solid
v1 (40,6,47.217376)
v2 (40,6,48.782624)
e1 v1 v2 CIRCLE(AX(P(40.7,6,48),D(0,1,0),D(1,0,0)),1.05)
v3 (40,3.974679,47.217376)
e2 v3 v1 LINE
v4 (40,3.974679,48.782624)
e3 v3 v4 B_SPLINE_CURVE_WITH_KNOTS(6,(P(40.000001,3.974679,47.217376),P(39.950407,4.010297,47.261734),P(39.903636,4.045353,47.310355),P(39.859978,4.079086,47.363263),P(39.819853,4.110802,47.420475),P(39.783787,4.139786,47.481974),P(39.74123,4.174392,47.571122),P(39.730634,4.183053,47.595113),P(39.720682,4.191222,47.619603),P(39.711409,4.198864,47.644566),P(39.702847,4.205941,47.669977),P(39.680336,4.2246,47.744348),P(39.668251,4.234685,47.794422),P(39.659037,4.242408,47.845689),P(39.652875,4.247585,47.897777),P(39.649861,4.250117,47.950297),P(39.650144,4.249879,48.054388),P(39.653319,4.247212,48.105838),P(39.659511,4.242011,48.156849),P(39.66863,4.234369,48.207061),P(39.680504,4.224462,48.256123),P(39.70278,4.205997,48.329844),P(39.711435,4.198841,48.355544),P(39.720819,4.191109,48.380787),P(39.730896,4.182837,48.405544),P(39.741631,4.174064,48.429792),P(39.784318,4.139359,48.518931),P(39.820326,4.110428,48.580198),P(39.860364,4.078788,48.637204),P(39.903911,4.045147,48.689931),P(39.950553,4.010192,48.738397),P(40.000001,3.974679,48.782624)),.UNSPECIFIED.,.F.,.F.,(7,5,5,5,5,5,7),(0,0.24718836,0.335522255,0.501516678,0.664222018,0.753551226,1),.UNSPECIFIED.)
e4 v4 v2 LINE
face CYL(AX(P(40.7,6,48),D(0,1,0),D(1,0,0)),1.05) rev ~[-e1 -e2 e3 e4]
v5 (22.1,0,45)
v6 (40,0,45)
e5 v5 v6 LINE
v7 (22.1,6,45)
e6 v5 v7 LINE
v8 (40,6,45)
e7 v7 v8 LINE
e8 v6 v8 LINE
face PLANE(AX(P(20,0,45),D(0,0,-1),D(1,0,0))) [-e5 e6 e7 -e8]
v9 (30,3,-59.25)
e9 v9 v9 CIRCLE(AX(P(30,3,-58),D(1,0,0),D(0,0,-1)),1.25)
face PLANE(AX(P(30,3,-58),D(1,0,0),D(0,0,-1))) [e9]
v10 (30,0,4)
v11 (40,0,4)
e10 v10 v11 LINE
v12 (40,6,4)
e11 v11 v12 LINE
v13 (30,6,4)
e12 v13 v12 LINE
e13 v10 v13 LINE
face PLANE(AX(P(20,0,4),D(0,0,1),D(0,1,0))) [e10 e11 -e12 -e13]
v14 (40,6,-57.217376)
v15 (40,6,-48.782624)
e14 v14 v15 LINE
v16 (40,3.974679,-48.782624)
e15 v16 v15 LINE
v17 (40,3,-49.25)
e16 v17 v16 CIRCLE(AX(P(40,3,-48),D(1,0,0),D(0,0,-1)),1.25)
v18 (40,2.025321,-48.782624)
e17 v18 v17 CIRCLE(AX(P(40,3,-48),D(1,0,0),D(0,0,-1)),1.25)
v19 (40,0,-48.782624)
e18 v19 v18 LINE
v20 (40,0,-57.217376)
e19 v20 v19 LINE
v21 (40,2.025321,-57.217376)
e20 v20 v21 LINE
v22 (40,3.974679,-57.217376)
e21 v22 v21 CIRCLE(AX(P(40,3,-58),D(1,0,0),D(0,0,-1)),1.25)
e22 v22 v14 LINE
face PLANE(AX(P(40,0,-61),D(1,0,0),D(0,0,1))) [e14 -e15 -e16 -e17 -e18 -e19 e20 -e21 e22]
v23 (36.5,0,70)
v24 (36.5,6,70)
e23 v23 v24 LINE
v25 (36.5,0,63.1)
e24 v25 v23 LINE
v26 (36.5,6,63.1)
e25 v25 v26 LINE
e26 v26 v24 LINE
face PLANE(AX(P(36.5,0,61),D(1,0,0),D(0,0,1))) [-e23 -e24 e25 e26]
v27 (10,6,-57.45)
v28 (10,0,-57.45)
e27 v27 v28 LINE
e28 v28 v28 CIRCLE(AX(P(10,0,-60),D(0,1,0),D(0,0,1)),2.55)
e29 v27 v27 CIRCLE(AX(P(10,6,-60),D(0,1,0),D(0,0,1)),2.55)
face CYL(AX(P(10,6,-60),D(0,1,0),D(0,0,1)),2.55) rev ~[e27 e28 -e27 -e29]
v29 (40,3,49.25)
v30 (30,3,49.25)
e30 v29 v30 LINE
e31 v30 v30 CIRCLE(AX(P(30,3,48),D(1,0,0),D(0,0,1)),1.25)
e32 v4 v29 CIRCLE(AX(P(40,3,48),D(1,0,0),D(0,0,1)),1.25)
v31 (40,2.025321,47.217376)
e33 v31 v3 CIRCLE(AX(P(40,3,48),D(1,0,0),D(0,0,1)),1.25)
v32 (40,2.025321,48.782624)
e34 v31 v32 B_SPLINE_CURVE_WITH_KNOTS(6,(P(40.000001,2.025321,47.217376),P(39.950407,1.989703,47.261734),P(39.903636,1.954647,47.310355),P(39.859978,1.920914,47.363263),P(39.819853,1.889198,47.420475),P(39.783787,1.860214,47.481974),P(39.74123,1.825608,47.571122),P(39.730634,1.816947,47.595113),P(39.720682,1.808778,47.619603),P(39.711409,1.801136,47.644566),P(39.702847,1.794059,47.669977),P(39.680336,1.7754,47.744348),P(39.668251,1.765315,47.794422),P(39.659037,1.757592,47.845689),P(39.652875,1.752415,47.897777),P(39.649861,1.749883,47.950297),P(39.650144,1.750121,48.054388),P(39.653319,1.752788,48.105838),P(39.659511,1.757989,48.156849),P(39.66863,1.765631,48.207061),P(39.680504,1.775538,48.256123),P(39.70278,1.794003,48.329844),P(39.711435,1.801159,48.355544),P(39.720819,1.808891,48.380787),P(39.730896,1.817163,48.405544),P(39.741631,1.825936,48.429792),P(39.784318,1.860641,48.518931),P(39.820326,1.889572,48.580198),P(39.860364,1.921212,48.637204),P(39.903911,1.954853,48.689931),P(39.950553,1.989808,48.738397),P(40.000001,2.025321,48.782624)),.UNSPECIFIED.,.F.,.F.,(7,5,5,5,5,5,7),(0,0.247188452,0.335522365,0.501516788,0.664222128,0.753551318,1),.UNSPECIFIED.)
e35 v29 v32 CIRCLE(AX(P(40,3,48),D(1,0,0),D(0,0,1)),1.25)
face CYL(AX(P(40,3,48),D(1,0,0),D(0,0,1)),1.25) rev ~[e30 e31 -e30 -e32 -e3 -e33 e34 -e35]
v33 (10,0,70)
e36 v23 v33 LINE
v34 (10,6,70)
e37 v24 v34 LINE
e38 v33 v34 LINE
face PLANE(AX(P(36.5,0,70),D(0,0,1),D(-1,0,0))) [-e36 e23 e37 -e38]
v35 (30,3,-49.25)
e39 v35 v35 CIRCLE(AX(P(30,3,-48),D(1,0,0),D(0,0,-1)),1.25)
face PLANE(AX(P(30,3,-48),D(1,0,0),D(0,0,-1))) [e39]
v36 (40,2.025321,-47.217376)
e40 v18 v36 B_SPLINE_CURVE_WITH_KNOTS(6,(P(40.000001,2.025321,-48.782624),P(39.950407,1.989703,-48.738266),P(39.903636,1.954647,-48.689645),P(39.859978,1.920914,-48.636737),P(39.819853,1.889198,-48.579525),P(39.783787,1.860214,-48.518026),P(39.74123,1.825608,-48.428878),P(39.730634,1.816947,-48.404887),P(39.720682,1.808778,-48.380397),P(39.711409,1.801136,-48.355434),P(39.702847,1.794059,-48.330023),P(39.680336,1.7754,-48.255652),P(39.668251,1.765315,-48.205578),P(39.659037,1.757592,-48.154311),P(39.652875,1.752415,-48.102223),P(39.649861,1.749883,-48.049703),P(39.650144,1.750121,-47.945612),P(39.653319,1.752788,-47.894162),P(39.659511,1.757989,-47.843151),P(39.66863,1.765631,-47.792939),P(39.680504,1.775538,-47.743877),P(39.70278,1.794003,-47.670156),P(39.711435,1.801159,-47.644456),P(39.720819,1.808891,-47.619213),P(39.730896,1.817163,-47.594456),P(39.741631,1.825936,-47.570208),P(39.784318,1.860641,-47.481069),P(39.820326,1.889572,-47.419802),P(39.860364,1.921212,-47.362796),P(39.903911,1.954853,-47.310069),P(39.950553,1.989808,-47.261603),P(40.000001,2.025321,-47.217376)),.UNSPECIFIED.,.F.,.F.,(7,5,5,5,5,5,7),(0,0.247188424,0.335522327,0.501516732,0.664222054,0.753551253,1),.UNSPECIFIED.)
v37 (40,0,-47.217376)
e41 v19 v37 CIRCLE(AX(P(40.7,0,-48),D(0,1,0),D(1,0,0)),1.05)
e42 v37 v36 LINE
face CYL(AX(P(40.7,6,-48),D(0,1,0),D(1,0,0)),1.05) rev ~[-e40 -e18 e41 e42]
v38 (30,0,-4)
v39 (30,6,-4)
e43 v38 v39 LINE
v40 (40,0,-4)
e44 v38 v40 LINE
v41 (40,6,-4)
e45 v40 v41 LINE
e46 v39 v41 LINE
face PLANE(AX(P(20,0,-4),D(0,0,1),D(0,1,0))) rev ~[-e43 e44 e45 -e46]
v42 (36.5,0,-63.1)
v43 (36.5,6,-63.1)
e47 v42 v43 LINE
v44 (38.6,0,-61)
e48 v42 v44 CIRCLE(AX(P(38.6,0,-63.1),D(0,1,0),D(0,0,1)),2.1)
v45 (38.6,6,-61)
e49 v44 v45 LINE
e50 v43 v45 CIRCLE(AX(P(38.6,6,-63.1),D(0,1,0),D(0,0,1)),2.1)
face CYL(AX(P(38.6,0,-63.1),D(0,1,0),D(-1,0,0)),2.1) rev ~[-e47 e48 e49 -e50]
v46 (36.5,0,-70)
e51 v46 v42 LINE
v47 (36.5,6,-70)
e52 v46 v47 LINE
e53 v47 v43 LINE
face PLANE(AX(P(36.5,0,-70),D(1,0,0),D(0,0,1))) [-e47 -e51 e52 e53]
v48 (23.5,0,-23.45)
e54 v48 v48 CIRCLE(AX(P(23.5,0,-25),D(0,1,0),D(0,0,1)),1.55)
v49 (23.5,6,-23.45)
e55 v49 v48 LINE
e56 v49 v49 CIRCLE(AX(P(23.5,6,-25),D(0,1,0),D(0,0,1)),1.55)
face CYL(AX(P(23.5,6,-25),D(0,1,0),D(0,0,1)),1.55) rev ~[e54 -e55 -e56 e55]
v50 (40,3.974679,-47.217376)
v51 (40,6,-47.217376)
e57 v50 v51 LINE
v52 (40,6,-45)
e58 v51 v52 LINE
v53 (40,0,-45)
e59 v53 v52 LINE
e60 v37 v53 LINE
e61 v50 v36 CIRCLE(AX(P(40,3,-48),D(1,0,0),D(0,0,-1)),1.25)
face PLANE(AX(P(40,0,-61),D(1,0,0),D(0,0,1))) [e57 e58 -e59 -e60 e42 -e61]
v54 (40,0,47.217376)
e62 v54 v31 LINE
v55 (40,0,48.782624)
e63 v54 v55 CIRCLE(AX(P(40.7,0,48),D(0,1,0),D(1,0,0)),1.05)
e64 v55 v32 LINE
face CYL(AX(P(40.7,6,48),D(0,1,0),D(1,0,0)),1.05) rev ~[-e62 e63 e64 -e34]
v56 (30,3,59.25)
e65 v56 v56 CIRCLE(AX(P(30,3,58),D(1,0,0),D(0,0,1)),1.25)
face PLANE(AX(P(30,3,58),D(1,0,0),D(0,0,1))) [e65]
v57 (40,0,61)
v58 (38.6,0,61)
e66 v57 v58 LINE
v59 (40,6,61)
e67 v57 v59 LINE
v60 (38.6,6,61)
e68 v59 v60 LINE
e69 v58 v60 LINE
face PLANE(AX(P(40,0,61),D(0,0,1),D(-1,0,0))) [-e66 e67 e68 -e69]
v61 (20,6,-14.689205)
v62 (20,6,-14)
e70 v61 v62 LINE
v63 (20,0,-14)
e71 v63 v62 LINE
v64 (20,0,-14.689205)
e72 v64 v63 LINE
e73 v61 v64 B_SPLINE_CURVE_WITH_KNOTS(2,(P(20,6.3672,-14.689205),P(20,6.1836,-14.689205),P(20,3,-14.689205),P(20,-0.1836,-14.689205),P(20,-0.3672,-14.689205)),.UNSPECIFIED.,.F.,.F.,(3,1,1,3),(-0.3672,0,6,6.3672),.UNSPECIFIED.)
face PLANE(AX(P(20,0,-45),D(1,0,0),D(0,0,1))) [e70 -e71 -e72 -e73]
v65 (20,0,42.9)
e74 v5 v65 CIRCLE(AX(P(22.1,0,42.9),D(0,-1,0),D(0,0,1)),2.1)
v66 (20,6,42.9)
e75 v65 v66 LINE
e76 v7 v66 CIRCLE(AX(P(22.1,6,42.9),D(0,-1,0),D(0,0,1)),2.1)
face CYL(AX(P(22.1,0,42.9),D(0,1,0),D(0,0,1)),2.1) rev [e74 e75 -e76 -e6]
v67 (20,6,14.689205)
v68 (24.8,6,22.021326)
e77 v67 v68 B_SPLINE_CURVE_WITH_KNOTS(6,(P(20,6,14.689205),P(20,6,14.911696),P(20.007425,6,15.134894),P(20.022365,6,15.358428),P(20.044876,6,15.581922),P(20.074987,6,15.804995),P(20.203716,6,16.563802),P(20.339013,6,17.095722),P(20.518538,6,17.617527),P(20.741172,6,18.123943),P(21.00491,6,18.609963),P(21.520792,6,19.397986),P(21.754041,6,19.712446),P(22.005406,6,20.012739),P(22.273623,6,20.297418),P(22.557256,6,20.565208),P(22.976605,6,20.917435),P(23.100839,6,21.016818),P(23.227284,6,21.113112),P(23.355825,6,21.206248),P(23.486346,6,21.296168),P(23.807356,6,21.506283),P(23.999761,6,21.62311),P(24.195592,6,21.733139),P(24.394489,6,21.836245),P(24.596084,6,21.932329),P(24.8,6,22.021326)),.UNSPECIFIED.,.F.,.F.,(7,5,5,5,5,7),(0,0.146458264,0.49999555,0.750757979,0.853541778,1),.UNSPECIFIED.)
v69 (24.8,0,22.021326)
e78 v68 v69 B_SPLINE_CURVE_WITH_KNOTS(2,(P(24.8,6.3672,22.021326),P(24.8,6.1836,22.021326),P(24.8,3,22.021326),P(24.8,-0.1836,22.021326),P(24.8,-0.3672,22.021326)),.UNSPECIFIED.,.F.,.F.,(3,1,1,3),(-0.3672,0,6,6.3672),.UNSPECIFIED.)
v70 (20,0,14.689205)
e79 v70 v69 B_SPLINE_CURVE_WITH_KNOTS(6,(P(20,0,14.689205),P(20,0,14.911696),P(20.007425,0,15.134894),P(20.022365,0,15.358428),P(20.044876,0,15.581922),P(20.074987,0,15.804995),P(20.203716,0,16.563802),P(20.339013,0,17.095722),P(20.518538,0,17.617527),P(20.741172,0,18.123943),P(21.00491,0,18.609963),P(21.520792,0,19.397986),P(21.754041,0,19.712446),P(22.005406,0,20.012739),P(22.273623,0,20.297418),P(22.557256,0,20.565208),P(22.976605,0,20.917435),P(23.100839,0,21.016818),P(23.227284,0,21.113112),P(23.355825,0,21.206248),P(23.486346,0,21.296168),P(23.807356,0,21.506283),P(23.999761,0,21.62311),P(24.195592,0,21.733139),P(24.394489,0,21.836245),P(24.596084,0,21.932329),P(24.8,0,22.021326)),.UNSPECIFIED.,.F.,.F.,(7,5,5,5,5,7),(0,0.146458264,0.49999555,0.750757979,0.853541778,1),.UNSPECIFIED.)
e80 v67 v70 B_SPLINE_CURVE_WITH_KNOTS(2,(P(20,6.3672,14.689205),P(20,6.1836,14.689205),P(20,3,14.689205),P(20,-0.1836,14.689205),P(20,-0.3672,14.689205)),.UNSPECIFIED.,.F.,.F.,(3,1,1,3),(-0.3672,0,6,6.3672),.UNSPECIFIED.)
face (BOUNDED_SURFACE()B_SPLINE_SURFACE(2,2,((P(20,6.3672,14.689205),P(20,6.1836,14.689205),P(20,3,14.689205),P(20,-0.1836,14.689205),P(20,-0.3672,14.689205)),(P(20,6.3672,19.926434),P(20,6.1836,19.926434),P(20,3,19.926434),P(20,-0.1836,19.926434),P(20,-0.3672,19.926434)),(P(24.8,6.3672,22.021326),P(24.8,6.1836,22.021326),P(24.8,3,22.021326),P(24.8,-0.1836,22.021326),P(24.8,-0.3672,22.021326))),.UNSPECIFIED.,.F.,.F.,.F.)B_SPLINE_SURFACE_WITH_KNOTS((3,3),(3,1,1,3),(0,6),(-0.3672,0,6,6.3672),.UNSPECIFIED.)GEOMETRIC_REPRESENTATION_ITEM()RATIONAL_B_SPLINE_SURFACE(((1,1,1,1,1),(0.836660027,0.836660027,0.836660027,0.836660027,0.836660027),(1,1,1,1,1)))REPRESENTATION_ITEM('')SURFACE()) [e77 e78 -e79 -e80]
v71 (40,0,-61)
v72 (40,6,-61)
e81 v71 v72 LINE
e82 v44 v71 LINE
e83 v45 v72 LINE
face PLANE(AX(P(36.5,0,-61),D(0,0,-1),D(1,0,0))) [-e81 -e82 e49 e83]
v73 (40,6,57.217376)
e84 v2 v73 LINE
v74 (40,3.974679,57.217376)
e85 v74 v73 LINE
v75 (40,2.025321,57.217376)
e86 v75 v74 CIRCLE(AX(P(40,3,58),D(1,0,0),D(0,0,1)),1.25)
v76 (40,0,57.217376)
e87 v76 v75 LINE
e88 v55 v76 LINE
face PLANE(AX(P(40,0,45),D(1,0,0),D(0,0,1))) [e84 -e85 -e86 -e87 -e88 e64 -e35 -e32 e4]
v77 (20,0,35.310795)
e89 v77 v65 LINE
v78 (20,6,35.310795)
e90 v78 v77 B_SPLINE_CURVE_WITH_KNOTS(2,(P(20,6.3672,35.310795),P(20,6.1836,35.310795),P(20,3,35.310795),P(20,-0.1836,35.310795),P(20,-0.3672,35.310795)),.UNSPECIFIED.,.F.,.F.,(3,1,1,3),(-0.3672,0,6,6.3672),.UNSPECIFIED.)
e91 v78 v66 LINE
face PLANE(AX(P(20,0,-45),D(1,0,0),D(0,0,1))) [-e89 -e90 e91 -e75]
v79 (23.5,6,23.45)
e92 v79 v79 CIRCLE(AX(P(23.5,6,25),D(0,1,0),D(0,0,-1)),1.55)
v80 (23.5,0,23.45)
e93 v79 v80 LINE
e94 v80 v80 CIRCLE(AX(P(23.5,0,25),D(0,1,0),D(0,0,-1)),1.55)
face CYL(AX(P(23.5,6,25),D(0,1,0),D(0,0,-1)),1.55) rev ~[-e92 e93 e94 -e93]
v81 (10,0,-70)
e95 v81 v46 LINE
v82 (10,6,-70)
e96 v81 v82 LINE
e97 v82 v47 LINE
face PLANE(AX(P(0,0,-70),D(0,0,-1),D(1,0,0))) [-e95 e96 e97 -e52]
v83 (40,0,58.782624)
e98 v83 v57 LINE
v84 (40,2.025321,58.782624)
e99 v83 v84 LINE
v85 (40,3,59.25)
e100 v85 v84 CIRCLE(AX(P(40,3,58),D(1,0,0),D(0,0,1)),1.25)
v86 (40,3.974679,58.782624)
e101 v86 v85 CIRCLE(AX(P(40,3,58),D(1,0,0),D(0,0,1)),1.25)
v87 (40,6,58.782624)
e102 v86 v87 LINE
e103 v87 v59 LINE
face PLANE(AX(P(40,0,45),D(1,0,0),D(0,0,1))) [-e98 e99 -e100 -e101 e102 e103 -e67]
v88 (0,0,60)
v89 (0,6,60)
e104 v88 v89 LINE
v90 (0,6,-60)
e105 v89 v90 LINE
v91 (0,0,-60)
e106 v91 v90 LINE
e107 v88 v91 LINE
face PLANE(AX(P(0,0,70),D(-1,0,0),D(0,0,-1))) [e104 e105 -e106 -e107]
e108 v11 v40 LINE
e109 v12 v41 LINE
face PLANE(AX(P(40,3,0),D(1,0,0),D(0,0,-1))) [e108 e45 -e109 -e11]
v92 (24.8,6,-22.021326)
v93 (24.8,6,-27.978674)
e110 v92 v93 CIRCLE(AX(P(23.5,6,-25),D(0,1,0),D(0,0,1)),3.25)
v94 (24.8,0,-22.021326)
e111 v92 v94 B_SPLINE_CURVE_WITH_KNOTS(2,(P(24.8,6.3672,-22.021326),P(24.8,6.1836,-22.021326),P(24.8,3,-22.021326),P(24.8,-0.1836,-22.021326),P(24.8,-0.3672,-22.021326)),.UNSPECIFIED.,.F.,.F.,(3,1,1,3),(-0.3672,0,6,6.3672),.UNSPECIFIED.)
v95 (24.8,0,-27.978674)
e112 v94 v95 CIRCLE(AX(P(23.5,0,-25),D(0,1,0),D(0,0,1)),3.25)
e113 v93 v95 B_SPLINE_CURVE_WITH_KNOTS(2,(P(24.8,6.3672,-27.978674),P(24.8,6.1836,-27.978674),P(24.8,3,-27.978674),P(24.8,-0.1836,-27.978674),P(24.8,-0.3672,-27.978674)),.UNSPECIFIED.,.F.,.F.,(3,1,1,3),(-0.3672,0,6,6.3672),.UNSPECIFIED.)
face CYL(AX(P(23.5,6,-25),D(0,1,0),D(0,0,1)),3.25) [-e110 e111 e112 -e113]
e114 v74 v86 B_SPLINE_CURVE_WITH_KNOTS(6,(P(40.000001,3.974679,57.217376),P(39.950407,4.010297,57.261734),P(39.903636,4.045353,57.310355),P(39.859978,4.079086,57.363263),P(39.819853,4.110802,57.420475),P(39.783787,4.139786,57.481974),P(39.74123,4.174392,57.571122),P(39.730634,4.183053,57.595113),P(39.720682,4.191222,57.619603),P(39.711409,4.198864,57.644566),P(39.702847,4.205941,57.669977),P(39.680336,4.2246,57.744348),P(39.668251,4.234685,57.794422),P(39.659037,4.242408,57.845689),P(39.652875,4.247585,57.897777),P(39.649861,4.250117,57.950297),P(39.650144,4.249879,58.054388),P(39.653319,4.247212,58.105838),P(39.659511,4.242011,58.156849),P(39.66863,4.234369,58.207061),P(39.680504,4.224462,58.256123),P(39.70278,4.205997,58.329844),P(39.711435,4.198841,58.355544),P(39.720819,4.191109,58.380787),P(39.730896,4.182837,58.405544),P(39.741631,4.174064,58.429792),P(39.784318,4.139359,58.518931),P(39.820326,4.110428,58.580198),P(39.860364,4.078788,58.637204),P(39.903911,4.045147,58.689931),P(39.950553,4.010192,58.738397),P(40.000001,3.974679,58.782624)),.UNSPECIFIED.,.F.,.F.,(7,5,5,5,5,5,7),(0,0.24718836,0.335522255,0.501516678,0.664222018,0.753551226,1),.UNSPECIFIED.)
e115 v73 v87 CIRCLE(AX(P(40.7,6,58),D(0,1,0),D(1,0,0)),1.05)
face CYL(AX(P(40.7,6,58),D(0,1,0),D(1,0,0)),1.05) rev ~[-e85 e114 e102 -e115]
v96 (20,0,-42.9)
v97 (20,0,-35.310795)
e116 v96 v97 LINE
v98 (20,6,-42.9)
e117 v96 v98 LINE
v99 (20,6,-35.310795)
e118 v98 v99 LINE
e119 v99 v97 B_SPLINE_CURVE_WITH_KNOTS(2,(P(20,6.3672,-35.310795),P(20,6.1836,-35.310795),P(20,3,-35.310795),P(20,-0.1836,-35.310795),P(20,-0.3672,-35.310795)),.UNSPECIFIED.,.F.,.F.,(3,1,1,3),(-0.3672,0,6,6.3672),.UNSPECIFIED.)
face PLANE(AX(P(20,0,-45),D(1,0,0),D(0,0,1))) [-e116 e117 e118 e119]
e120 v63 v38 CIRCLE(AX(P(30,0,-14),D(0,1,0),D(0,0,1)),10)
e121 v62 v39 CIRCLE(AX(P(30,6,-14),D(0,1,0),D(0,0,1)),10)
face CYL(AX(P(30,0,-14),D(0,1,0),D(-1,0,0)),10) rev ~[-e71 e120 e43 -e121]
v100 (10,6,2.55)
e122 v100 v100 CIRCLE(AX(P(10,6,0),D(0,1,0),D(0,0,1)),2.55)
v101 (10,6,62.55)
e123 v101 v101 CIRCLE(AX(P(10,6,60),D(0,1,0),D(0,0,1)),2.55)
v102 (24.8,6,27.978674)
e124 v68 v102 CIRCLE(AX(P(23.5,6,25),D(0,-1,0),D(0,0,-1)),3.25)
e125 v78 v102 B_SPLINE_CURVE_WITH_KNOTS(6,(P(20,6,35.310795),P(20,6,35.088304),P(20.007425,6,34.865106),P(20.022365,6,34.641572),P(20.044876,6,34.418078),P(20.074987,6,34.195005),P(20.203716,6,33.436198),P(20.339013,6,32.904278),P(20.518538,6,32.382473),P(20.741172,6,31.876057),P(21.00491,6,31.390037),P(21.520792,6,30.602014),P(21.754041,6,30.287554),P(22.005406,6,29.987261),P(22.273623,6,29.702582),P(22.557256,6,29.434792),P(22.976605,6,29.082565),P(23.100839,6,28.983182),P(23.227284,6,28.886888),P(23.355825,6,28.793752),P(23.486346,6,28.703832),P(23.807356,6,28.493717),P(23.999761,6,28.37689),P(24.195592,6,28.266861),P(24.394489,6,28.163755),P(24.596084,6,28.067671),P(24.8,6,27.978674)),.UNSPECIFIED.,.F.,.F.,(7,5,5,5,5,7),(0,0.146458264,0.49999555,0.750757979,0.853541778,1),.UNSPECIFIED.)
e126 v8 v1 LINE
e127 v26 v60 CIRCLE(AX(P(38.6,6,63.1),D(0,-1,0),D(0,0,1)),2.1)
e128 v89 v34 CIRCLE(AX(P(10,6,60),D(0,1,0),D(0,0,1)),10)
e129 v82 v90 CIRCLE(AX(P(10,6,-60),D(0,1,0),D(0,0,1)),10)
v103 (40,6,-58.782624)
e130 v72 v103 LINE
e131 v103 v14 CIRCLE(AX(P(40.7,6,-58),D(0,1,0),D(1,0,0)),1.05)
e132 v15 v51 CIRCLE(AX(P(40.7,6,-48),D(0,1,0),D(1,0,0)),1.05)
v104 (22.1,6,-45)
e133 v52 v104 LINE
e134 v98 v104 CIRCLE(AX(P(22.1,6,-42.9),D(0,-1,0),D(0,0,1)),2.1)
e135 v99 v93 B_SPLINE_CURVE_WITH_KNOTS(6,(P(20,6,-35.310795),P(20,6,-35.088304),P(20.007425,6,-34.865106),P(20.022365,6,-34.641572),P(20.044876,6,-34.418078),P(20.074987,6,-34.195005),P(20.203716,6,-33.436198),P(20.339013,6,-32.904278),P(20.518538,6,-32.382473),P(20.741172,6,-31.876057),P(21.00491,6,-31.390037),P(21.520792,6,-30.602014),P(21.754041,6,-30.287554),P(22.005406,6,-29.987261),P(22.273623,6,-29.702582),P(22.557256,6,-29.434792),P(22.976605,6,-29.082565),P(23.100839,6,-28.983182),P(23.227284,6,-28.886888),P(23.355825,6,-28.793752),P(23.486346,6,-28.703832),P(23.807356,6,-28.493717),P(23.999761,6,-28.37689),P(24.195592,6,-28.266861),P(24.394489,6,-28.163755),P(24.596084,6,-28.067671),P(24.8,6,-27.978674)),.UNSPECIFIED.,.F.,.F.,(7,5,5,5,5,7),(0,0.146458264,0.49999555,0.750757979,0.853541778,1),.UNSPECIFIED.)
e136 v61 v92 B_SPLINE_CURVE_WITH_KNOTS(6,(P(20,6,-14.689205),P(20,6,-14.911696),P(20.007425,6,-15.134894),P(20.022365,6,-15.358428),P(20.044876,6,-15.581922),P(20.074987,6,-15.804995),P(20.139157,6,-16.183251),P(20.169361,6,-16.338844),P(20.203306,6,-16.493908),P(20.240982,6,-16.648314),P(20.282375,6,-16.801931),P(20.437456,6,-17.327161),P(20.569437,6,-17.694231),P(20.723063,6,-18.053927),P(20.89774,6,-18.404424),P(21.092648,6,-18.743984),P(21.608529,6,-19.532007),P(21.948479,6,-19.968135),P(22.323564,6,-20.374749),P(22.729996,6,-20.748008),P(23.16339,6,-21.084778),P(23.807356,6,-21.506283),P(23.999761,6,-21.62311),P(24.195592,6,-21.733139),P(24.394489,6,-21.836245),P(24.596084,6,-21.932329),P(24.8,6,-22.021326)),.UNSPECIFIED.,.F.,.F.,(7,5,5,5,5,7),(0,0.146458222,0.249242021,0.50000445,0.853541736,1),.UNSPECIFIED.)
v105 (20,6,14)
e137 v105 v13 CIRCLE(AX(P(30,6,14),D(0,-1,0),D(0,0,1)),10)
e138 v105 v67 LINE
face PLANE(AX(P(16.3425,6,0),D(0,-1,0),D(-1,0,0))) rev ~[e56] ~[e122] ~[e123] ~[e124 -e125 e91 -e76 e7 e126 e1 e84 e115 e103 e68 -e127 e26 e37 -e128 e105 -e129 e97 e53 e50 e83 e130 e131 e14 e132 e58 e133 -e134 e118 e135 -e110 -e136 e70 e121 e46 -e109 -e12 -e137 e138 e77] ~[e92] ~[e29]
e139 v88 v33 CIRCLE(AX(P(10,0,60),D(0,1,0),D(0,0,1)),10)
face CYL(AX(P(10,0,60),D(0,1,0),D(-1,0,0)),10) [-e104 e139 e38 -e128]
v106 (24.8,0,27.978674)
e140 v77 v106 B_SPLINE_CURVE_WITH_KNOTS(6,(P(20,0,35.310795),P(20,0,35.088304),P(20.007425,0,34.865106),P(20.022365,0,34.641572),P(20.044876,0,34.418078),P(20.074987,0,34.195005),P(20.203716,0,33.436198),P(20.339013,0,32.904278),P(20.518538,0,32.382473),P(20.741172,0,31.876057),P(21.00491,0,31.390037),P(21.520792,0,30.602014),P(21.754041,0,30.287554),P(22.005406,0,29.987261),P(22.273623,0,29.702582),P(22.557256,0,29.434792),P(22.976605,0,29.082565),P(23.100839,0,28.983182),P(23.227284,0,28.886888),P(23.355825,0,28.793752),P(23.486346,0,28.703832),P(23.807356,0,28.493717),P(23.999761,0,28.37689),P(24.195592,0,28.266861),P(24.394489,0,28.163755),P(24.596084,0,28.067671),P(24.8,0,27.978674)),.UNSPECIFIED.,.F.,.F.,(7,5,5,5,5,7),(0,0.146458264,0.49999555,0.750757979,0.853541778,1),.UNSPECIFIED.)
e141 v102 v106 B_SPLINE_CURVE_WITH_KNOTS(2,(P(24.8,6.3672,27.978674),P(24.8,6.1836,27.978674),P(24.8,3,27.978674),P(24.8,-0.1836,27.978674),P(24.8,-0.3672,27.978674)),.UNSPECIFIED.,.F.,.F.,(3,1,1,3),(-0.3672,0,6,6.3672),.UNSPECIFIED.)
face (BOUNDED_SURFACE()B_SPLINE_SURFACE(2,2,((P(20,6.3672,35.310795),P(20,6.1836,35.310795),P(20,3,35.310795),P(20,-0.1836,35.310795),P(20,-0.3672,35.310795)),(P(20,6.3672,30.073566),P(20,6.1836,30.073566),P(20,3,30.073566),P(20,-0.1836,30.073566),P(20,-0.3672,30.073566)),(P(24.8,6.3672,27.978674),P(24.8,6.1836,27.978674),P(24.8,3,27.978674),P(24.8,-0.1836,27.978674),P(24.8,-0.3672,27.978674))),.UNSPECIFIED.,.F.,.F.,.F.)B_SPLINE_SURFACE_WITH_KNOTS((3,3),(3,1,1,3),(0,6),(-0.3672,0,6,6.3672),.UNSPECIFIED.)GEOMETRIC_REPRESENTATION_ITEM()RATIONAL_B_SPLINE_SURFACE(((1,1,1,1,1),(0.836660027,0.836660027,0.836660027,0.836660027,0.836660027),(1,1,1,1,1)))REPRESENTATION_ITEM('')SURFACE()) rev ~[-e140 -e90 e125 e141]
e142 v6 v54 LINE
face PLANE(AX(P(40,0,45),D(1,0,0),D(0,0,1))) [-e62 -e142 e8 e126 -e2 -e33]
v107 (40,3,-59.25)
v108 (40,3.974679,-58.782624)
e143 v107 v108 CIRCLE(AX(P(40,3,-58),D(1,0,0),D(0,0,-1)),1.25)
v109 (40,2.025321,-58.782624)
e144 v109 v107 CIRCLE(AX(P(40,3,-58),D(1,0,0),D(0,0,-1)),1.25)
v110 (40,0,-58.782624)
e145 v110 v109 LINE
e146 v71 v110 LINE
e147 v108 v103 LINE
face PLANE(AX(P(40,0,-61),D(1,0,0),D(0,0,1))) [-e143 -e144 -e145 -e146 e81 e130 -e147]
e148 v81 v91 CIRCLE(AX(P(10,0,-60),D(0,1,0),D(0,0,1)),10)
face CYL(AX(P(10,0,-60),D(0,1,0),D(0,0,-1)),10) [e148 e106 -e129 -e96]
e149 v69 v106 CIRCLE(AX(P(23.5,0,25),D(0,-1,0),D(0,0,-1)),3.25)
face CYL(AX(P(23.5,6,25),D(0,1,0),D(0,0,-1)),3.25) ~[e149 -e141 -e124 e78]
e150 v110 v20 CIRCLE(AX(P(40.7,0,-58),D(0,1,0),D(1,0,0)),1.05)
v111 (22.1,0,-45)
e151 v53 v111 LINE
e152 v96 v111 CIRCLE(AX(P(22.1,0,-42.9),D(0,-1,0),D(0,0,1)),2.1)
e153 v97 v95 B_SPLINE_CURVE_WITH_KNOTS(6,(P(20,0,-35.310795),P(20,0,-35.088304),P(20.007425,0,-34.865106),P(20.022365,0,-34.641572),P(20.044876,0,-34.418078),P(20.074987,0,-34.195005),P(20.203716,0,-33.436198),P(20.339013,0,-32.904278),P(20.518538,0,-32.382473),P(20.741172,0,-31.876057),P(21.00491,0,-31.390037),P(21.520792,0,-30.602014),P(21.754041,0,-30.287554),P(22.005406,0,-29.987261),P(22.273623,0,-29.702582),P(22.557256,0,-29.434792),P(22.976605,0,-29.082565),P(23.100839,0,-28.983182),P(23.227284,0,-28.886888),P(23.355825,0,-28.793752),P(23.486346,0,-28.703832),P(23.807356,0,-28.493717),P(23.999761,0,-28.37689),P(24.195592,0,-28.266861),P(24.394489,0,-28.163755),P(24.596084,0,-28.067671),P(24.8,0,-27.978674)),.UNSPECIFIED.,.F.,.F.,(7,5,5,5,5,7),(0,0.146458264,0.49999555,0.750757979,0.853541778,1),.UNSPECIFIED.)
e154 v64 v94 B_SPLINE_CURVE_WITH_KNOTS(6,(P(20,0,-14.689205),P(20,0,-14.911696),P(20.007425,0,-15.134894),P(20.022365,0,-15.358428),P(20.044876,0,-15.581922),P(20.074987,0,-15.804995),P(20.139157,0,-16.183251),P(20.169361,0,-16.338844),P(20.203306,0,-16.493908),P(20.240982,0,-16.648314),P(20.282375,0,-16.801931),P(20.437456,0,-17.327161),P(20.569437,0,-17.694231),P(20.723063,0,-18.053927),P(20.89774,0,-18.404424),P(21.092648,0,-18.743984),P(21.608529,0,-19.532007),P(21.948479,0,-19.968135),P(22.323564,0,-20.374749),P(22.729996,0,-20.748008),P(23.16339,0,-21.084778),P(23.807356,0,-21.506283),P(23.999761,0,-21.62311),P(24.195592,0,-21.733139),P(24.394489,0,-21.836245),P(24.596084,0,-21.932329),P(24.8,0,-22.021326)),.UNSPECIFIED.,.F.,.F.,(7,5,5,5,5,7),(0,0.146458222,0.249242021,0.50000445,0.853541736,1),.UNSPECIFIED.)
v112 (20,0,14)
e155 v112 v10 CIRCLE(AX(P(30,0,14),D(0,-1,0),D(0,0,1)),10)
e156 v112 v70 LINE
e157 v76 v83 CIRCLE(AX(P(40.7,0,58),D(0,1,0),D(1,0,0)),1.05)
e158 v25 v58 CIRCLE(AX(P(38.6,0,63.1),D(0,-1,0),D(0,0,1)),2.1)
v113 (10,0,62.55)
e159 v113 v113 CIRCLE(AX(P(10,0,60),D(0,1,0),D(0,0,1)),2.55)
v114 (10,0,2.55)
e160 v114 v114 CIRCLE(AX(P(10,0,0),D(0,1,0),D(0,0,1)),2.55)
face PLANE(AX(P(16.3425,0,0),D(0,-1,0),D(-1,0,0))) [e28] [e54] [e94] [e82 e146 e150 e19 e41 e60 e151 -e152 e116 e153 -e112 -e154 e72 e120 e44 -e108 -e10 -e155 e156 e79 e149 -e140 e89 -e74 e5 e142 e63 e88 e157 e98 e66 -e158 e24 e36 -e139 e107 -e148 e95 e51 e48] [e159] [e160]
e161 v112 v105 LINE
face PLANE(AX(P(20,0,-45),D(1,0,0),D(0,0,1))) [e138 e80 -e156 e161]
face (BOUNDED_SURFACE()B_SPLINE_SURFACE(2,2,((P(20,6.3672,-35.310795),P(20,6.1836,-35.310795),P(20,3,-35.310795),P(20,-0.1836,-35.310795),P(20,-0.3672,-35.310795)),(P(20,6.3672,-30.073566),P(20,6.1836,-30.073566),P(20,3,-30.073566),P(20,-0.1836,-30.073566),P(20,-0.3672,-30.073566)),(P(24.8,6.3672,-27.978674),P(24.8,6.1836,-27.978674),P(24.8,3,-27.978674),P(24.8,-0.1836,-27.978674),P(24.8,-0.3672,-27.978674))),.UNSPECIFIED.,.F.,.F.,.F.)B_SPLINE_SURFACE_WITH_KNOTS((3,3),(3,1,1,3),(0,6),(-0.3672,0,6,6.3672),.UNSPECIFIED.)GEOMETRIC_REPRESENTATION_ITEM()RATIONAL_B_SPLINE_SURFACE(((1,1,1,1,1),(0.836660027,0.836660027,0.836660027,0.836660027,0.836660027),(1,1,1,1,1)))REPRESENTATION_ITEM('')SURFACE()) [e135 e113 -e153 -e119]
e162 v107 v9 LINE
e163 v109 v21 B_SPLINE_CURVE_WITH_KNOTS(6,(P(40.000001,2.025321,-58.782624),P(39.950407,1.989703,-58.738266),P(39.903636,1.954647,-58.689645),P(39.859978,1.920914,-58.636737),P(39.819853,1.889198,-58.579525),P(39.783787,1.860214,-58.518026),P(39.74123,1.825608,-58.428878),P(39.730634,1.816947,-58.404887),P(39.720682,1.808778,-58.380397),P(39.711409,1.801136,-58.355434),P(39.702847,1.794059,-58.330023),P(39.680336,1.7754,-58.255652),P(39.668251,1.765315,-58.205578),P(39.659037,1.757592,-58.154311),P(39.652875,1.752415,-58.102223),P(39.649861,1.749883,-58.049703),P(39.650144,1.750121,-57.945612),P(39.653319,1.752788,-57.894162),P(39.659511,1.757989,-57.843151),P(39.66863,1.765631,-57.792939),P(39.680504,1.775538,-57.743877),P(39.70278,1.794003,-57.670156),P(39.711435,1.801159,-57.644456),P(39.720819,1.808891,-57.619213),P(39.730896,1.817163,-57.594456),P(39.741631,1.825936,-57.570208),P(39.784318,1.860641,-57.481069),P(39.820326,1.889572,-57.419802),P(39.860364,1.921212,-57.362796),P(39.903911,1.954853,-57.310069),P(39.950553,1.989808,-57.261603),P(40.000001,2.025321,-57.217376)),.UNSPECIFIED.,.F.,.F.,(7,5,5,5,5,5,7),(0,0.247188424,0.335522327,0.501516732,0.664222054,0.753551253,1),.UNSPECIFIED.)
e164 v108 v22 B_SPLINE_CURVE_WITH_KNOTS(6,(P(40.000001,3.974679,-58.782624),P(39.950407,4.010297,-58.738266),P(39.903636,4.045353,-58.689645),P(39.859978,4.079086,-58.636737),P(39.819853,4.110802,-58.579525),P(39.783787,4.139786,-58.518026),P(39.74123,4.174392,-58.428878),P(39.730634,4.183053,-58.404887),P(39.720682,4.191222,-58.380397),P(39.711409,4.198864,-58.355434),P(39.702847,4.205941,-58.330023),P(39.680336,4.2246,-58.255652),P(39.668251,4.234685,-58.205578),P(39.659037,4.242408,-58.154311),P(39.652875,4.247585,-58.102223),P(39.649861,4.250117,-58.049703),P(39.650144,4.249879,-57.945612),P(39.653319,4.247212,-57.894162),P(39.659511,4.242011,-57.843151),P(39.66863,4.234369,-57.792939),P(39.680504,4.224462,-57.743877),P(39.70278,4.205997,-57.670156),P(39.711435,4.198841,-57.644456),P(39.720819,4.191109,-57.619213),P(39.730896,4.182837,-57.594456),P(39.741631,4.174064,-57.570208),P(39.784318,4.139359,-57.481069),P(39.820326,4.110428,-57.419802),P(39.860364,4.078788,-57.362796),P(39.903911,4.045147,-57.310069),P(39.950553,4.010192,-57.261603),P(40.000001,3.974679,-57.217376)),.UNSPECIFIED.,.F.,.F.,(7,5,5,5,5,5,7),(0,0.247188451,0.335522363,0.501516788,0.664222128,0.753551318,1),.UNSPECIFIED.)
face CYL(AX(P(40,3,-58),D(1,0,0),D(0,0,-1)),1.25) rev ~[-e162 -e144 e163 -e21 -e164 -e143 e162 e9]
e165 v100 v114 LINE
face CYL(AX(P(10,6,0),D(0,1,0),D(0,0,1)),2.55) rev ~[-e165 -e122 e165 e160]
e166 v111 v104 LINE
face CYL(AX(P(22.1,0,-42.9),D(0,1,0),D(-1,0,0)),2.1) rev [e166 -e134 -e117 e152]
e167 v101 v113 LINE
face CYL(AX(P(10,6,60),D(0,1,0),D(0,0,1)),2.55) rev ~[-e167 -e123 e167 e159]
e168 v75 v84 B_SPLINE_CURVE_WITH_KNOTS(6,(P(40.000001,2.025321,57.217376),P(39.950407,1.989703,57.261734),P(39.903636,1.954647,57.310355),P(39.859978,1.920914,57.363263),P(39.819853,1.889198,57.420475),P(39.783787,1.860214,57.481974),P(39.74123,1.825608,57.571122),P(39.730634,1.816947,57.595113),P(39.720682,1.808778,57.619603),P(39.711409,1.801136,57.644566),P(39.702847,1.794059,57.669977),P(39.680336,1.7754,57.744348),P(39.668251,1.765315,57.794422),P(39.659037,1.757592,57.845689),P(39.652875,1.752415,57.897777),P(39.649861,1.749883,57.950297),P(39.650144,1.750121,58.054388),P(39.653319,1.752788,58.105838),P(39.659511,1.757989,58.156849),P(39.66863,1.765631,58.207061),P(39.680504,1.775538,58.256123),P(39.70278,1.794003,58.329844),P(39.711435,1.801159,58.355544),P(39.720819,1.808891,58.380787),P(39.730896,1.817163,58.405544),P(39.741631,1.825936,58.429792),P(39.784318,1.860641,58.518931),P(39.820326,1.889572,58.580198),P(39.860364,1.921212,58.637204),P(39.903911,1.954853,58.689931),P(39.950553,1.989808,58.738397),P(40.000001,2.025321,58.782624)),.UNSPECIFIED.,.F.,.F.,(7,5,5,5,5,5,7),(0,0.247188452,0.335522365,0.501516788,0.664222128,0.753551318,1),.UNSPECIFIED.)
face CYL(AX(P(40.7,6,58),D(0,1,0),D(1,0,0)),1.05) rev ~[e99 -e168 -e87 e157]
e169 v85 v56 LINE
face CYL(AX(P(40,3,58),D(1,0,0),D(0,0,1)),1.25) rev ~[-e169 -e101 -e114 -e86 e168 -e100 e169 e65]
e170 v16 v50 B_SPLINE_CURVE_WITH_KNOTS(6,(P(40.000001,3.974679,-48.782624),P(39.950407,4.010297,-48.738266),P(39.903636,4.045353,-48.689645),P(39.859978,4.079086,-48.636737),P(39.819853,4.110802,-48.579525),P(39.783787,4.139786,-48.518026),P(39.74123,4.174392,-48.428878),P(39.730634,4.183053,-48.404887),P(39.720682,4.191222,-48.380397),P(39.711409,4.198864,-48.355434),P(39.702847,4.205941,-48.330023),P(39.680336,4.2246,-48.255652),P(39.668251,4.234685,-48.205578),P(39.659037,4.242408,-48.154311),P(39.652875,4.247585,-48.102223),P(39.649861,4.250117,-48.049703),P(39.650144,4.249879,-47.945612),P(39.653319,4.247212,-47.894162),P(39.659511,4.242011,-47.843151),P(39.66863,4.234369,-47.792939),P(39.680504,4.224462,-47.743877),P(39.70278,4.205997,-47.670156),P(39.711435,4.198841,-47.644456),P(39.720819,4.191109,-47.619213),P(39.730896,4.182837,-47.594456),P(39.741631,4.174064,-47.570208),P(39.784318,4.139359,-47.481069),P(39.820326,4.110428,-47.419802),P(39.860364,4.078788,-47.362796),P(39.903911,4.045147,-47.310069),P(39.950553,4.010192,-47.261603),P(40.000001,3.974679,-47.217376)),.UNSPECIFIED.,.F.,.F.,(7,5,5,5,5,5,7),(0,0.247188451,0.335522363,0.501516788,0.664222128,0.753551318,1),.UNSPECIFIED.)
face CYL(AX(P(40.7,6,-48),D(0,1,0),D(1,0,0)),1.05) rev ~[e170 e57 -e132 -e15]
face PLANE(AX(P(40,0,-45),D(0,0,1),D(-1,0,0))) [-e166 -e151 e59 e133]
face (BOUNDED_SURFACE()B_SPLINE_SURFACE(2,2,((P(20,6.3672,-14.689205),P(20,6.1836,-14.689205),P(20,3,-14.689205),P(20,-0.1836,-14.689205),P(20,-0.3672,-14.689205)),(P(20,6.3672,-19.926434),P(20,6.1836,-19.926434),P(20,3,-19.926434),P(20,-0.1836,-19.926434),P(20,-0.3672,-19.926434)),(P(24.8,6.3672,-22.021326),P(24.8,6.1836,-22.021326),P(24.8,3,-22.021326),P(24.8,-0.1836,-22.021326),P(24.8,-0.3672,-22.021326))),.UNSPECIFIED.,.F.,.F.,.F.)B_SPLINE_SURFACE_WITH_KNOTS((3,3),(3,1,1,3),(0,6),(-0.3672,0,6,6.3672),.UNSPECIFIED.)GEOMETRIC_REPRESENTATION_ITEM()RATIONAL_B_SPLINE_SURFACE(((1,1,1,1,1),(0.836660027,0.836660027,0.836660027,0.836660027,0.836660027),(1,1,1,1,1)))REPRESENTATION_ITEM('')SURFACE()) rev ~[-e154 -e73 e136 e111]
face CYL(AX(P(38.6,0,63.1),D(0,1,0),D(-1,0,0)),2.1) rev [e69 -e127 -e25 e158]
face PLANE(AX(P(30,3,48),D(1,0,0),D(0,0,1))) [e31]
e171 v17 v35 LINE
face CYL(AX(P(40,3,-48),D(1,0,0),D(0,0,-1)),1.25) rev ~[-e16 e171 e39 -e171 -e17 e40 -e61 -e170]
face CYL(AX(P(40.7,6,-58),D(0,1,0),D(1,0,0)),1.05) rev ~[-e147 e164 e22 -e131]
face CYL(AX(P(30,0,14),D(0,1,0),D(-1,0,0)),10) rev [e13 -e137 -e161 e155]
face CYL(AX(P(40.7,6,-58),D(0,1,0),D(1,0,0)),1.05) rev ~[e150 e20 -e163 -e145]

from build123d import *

# Parameters (mm, degrees)
EXTRUDE_1_DEPTH     = 6
SKETCH_2_R          = 1.25
CUT_EXTRUDE_1_DEPTH = 10
SKETCH_3_R          = 1.05
CUT_EXTRUDE_2_DEPTH = 81.845531726
SKETCH_4_R          = 2.55
CUT_EXTRUDE_3_DEPTH = 81.845531783
FILLET_1_R          = 2.1
SKETCH_5_W          = 8
SKETCH_5_H          = 6
EXTRUDE_2_DEPTH     = 20
FILLET_2_R          = 10
FILLET_3_R          = 10
SKETCH_7_R          = 1.55
EXTRUDE_3_DEPTH     = 6
FILLET_4_R          = 8


with BuildPart() as part:
    # ｽｹｯﾁ1 → ﾎﾞｽ - 押し出し1 (new body)
    with BuildSketch(Plane(origin=(0, 0, 0), x_dir=(1, 0, 0), z_dir=(0, 1, 0))):
        Polygon((0, -70), (0, 70), (36.5, 70), (36.5, 61), (40, 61), (40, 45), (20, 45), (20, -45), (40, -45), (40, -61), (36.5, -61), (36.5, -70), align=None)
    extrude(amount=EXTRUDE_1_DEPTH)

    # ｽｹｯﾁ2 → ｶｯﾄ - 押し出し1 (cut)
    with BuildSketch(Plane(origin=(40, 0, 0), x_dir=(0, 0, -1), z_dir=(1, 0, 0))):
        with Locations((48, 3)):
            Circle(SKETCH_2_R)
        with Locations((58, 3)):
            Circle(SKETCH_2_R)
        with Locations(Location((-48, 3, 0), (0, 0, 180))):
            Circle(SKETCH_2_R)
        with Locations(Location((-58, 3, 0), (0, 0, 180))):
            Circle(SKETCH_2_R)
    extrude(amount=-CUT_EXTRUDE_1_DEPTH, mode=Mode.SUBTRACT)

    # ｽｹｯﾁ3 → ｶｯﾄ - 押し出し2 (cut, through all)
    with BuildSketch(Plane(origin=(0, 6, 0), x_dir=(1, 0, 0), z_dir=(0, 1, 0))):
        with Locations((40.7, 58)):
            Circle(SKETCH_3_R)
        with Locations((40.7, 48)):
            Circle(SKETCH_3_R)
        with Locations((40.7, -48)):
            Circle(SKETCH_3_R)
        with Locations((40.7, -58)):
            Circle(SKETCH_3_R)
    extrude(amount=-CUT_EXTRUDE_2_DEPTH, mode=Mode.SUBTRACT)

    # ｽｹｯﾁ4 → ｶｯﾄ - 押し出し3 (cut, through all)
    with BuildSketch(Plane(origin=(0, 6, 0), x_dir=(1, 0, 0), z_dir=(0, 1, 0))):
        with Locations(Location((10, 0, 0), (0, 0, 270))):
            Circle(SKETCH_4_R)
        with Locations(Location((10, 60, 0), (0, 0, 270))):
            Circle(SKETCH_4_R)
        with Locations(Location((10, -60, 0), (0, 0, 270))):
            Circle(SKETCH_4_R)
    extrude(amount=-CUT_EXTRUDE_3_DEPTH, mode=Mode.SUBTRACT)

    # ﾌｨﾚｯﾄ1
    fillet_1_edges = [part.edges().sort_by_distance(p)[0] for p in [
        (36.5, 3, -61),
        (20, 3, -45),
        (20, 3, 45),
        (36.5, 3, 61),
    ]]
    fillet(fillet_1_edges, radius=FILLET_1_R)

    # ｽｹｯﾁ5 → ﾎﾞｽ - 押し出し2 (add)
    with BuildSketch(Plane(origin=(20, 0, 0), x_dir=(0, 0, -1), z_dir=(1, 0, 0))):
        with Locations((0, 3)):
            Rectangle(SKETCH_5_W, SKETCH_5_H)
    extrude(amount=EXTRUDE_2_DEPTH)

    # ﾌｨﾚｯﾄ2
    fillet_2_edges = [part.edges().sort_by_distance(p)[0] for p in [
        (20, 3, 4),
        (20, 3, -4),
    ]]
    fillet(fillet_2_edges, radius=FILLET_2_R)

    # ﾌｨﾚｯﾄ3
    fillet_3_edges = [part.edges().sort_by_distance(p)[0] for p in [
        (0, 3, 70),
        (0, 3, -70),
    ]]
    fillet(fillet_3_edges, radius=FILLET_3_R)

    # ｽｹｯﾁ7 → ﾎﾞｽ - 押し出し3 (add, through all)
    # profile 1 of 2: a face of its own
    with BuildSketch(Plane(origin=(0, 6, 0), x_dir=(1, 0, 0), z_dir=(0, 1, 0))):
        with BuildLine():
            Line((23.5, 28.25), (20, 28.25))
            Line((20, 28.25), (20, 21.75))
            Line((20, 21.75), (23.5, 21.75))
            ThreePointArc((23.5, 21.75), (26.75, 25), (23.5, 28.25))
        make_face()
        with Locations(Location((23.5, 25, 0), (0, 0, 270))):
            Circle(SKETCH_7_R, mode=Mode.SUBTRACT)
    # profile 2 of 2: a face of its own
    with BuildSketch(Plane(origin=(0, 6, 0), x_dir=(1, 0, 0), z_dir=(0, 1, 0))):
        with BuildLine():
            Line((20, -21.75), (23.5, -21.75))
            ThreePointArc((23.5, -21.75), (26.75, -25), (23.5, -28.25))
            Line((23.5, -28.25), (20, -28.25))
            Line((20, -28.25), (20, -21.75))
        make_face()
        with Locations(Location((23.5, -25, 0), (0, 0, 90))):
            Circle(SKETCH_7_R, mode=Mode.SUBTRACT)
    extrude(amount=-EXTRUDE_3_DEPTH)

    # ﾌｨﾚｯﾄ4
    fillet_4_edges = [part.edges().sort_by_distance(p)[0] for p in [
        (20, 3, 28.25),
        (20, 3, 21.75),
        (20, 3, -28.25),
        (20, 3, -21.75),
    ]]
    fillet(fillet_4_edges, radius=FILLET_4_R)


solid = part.part
